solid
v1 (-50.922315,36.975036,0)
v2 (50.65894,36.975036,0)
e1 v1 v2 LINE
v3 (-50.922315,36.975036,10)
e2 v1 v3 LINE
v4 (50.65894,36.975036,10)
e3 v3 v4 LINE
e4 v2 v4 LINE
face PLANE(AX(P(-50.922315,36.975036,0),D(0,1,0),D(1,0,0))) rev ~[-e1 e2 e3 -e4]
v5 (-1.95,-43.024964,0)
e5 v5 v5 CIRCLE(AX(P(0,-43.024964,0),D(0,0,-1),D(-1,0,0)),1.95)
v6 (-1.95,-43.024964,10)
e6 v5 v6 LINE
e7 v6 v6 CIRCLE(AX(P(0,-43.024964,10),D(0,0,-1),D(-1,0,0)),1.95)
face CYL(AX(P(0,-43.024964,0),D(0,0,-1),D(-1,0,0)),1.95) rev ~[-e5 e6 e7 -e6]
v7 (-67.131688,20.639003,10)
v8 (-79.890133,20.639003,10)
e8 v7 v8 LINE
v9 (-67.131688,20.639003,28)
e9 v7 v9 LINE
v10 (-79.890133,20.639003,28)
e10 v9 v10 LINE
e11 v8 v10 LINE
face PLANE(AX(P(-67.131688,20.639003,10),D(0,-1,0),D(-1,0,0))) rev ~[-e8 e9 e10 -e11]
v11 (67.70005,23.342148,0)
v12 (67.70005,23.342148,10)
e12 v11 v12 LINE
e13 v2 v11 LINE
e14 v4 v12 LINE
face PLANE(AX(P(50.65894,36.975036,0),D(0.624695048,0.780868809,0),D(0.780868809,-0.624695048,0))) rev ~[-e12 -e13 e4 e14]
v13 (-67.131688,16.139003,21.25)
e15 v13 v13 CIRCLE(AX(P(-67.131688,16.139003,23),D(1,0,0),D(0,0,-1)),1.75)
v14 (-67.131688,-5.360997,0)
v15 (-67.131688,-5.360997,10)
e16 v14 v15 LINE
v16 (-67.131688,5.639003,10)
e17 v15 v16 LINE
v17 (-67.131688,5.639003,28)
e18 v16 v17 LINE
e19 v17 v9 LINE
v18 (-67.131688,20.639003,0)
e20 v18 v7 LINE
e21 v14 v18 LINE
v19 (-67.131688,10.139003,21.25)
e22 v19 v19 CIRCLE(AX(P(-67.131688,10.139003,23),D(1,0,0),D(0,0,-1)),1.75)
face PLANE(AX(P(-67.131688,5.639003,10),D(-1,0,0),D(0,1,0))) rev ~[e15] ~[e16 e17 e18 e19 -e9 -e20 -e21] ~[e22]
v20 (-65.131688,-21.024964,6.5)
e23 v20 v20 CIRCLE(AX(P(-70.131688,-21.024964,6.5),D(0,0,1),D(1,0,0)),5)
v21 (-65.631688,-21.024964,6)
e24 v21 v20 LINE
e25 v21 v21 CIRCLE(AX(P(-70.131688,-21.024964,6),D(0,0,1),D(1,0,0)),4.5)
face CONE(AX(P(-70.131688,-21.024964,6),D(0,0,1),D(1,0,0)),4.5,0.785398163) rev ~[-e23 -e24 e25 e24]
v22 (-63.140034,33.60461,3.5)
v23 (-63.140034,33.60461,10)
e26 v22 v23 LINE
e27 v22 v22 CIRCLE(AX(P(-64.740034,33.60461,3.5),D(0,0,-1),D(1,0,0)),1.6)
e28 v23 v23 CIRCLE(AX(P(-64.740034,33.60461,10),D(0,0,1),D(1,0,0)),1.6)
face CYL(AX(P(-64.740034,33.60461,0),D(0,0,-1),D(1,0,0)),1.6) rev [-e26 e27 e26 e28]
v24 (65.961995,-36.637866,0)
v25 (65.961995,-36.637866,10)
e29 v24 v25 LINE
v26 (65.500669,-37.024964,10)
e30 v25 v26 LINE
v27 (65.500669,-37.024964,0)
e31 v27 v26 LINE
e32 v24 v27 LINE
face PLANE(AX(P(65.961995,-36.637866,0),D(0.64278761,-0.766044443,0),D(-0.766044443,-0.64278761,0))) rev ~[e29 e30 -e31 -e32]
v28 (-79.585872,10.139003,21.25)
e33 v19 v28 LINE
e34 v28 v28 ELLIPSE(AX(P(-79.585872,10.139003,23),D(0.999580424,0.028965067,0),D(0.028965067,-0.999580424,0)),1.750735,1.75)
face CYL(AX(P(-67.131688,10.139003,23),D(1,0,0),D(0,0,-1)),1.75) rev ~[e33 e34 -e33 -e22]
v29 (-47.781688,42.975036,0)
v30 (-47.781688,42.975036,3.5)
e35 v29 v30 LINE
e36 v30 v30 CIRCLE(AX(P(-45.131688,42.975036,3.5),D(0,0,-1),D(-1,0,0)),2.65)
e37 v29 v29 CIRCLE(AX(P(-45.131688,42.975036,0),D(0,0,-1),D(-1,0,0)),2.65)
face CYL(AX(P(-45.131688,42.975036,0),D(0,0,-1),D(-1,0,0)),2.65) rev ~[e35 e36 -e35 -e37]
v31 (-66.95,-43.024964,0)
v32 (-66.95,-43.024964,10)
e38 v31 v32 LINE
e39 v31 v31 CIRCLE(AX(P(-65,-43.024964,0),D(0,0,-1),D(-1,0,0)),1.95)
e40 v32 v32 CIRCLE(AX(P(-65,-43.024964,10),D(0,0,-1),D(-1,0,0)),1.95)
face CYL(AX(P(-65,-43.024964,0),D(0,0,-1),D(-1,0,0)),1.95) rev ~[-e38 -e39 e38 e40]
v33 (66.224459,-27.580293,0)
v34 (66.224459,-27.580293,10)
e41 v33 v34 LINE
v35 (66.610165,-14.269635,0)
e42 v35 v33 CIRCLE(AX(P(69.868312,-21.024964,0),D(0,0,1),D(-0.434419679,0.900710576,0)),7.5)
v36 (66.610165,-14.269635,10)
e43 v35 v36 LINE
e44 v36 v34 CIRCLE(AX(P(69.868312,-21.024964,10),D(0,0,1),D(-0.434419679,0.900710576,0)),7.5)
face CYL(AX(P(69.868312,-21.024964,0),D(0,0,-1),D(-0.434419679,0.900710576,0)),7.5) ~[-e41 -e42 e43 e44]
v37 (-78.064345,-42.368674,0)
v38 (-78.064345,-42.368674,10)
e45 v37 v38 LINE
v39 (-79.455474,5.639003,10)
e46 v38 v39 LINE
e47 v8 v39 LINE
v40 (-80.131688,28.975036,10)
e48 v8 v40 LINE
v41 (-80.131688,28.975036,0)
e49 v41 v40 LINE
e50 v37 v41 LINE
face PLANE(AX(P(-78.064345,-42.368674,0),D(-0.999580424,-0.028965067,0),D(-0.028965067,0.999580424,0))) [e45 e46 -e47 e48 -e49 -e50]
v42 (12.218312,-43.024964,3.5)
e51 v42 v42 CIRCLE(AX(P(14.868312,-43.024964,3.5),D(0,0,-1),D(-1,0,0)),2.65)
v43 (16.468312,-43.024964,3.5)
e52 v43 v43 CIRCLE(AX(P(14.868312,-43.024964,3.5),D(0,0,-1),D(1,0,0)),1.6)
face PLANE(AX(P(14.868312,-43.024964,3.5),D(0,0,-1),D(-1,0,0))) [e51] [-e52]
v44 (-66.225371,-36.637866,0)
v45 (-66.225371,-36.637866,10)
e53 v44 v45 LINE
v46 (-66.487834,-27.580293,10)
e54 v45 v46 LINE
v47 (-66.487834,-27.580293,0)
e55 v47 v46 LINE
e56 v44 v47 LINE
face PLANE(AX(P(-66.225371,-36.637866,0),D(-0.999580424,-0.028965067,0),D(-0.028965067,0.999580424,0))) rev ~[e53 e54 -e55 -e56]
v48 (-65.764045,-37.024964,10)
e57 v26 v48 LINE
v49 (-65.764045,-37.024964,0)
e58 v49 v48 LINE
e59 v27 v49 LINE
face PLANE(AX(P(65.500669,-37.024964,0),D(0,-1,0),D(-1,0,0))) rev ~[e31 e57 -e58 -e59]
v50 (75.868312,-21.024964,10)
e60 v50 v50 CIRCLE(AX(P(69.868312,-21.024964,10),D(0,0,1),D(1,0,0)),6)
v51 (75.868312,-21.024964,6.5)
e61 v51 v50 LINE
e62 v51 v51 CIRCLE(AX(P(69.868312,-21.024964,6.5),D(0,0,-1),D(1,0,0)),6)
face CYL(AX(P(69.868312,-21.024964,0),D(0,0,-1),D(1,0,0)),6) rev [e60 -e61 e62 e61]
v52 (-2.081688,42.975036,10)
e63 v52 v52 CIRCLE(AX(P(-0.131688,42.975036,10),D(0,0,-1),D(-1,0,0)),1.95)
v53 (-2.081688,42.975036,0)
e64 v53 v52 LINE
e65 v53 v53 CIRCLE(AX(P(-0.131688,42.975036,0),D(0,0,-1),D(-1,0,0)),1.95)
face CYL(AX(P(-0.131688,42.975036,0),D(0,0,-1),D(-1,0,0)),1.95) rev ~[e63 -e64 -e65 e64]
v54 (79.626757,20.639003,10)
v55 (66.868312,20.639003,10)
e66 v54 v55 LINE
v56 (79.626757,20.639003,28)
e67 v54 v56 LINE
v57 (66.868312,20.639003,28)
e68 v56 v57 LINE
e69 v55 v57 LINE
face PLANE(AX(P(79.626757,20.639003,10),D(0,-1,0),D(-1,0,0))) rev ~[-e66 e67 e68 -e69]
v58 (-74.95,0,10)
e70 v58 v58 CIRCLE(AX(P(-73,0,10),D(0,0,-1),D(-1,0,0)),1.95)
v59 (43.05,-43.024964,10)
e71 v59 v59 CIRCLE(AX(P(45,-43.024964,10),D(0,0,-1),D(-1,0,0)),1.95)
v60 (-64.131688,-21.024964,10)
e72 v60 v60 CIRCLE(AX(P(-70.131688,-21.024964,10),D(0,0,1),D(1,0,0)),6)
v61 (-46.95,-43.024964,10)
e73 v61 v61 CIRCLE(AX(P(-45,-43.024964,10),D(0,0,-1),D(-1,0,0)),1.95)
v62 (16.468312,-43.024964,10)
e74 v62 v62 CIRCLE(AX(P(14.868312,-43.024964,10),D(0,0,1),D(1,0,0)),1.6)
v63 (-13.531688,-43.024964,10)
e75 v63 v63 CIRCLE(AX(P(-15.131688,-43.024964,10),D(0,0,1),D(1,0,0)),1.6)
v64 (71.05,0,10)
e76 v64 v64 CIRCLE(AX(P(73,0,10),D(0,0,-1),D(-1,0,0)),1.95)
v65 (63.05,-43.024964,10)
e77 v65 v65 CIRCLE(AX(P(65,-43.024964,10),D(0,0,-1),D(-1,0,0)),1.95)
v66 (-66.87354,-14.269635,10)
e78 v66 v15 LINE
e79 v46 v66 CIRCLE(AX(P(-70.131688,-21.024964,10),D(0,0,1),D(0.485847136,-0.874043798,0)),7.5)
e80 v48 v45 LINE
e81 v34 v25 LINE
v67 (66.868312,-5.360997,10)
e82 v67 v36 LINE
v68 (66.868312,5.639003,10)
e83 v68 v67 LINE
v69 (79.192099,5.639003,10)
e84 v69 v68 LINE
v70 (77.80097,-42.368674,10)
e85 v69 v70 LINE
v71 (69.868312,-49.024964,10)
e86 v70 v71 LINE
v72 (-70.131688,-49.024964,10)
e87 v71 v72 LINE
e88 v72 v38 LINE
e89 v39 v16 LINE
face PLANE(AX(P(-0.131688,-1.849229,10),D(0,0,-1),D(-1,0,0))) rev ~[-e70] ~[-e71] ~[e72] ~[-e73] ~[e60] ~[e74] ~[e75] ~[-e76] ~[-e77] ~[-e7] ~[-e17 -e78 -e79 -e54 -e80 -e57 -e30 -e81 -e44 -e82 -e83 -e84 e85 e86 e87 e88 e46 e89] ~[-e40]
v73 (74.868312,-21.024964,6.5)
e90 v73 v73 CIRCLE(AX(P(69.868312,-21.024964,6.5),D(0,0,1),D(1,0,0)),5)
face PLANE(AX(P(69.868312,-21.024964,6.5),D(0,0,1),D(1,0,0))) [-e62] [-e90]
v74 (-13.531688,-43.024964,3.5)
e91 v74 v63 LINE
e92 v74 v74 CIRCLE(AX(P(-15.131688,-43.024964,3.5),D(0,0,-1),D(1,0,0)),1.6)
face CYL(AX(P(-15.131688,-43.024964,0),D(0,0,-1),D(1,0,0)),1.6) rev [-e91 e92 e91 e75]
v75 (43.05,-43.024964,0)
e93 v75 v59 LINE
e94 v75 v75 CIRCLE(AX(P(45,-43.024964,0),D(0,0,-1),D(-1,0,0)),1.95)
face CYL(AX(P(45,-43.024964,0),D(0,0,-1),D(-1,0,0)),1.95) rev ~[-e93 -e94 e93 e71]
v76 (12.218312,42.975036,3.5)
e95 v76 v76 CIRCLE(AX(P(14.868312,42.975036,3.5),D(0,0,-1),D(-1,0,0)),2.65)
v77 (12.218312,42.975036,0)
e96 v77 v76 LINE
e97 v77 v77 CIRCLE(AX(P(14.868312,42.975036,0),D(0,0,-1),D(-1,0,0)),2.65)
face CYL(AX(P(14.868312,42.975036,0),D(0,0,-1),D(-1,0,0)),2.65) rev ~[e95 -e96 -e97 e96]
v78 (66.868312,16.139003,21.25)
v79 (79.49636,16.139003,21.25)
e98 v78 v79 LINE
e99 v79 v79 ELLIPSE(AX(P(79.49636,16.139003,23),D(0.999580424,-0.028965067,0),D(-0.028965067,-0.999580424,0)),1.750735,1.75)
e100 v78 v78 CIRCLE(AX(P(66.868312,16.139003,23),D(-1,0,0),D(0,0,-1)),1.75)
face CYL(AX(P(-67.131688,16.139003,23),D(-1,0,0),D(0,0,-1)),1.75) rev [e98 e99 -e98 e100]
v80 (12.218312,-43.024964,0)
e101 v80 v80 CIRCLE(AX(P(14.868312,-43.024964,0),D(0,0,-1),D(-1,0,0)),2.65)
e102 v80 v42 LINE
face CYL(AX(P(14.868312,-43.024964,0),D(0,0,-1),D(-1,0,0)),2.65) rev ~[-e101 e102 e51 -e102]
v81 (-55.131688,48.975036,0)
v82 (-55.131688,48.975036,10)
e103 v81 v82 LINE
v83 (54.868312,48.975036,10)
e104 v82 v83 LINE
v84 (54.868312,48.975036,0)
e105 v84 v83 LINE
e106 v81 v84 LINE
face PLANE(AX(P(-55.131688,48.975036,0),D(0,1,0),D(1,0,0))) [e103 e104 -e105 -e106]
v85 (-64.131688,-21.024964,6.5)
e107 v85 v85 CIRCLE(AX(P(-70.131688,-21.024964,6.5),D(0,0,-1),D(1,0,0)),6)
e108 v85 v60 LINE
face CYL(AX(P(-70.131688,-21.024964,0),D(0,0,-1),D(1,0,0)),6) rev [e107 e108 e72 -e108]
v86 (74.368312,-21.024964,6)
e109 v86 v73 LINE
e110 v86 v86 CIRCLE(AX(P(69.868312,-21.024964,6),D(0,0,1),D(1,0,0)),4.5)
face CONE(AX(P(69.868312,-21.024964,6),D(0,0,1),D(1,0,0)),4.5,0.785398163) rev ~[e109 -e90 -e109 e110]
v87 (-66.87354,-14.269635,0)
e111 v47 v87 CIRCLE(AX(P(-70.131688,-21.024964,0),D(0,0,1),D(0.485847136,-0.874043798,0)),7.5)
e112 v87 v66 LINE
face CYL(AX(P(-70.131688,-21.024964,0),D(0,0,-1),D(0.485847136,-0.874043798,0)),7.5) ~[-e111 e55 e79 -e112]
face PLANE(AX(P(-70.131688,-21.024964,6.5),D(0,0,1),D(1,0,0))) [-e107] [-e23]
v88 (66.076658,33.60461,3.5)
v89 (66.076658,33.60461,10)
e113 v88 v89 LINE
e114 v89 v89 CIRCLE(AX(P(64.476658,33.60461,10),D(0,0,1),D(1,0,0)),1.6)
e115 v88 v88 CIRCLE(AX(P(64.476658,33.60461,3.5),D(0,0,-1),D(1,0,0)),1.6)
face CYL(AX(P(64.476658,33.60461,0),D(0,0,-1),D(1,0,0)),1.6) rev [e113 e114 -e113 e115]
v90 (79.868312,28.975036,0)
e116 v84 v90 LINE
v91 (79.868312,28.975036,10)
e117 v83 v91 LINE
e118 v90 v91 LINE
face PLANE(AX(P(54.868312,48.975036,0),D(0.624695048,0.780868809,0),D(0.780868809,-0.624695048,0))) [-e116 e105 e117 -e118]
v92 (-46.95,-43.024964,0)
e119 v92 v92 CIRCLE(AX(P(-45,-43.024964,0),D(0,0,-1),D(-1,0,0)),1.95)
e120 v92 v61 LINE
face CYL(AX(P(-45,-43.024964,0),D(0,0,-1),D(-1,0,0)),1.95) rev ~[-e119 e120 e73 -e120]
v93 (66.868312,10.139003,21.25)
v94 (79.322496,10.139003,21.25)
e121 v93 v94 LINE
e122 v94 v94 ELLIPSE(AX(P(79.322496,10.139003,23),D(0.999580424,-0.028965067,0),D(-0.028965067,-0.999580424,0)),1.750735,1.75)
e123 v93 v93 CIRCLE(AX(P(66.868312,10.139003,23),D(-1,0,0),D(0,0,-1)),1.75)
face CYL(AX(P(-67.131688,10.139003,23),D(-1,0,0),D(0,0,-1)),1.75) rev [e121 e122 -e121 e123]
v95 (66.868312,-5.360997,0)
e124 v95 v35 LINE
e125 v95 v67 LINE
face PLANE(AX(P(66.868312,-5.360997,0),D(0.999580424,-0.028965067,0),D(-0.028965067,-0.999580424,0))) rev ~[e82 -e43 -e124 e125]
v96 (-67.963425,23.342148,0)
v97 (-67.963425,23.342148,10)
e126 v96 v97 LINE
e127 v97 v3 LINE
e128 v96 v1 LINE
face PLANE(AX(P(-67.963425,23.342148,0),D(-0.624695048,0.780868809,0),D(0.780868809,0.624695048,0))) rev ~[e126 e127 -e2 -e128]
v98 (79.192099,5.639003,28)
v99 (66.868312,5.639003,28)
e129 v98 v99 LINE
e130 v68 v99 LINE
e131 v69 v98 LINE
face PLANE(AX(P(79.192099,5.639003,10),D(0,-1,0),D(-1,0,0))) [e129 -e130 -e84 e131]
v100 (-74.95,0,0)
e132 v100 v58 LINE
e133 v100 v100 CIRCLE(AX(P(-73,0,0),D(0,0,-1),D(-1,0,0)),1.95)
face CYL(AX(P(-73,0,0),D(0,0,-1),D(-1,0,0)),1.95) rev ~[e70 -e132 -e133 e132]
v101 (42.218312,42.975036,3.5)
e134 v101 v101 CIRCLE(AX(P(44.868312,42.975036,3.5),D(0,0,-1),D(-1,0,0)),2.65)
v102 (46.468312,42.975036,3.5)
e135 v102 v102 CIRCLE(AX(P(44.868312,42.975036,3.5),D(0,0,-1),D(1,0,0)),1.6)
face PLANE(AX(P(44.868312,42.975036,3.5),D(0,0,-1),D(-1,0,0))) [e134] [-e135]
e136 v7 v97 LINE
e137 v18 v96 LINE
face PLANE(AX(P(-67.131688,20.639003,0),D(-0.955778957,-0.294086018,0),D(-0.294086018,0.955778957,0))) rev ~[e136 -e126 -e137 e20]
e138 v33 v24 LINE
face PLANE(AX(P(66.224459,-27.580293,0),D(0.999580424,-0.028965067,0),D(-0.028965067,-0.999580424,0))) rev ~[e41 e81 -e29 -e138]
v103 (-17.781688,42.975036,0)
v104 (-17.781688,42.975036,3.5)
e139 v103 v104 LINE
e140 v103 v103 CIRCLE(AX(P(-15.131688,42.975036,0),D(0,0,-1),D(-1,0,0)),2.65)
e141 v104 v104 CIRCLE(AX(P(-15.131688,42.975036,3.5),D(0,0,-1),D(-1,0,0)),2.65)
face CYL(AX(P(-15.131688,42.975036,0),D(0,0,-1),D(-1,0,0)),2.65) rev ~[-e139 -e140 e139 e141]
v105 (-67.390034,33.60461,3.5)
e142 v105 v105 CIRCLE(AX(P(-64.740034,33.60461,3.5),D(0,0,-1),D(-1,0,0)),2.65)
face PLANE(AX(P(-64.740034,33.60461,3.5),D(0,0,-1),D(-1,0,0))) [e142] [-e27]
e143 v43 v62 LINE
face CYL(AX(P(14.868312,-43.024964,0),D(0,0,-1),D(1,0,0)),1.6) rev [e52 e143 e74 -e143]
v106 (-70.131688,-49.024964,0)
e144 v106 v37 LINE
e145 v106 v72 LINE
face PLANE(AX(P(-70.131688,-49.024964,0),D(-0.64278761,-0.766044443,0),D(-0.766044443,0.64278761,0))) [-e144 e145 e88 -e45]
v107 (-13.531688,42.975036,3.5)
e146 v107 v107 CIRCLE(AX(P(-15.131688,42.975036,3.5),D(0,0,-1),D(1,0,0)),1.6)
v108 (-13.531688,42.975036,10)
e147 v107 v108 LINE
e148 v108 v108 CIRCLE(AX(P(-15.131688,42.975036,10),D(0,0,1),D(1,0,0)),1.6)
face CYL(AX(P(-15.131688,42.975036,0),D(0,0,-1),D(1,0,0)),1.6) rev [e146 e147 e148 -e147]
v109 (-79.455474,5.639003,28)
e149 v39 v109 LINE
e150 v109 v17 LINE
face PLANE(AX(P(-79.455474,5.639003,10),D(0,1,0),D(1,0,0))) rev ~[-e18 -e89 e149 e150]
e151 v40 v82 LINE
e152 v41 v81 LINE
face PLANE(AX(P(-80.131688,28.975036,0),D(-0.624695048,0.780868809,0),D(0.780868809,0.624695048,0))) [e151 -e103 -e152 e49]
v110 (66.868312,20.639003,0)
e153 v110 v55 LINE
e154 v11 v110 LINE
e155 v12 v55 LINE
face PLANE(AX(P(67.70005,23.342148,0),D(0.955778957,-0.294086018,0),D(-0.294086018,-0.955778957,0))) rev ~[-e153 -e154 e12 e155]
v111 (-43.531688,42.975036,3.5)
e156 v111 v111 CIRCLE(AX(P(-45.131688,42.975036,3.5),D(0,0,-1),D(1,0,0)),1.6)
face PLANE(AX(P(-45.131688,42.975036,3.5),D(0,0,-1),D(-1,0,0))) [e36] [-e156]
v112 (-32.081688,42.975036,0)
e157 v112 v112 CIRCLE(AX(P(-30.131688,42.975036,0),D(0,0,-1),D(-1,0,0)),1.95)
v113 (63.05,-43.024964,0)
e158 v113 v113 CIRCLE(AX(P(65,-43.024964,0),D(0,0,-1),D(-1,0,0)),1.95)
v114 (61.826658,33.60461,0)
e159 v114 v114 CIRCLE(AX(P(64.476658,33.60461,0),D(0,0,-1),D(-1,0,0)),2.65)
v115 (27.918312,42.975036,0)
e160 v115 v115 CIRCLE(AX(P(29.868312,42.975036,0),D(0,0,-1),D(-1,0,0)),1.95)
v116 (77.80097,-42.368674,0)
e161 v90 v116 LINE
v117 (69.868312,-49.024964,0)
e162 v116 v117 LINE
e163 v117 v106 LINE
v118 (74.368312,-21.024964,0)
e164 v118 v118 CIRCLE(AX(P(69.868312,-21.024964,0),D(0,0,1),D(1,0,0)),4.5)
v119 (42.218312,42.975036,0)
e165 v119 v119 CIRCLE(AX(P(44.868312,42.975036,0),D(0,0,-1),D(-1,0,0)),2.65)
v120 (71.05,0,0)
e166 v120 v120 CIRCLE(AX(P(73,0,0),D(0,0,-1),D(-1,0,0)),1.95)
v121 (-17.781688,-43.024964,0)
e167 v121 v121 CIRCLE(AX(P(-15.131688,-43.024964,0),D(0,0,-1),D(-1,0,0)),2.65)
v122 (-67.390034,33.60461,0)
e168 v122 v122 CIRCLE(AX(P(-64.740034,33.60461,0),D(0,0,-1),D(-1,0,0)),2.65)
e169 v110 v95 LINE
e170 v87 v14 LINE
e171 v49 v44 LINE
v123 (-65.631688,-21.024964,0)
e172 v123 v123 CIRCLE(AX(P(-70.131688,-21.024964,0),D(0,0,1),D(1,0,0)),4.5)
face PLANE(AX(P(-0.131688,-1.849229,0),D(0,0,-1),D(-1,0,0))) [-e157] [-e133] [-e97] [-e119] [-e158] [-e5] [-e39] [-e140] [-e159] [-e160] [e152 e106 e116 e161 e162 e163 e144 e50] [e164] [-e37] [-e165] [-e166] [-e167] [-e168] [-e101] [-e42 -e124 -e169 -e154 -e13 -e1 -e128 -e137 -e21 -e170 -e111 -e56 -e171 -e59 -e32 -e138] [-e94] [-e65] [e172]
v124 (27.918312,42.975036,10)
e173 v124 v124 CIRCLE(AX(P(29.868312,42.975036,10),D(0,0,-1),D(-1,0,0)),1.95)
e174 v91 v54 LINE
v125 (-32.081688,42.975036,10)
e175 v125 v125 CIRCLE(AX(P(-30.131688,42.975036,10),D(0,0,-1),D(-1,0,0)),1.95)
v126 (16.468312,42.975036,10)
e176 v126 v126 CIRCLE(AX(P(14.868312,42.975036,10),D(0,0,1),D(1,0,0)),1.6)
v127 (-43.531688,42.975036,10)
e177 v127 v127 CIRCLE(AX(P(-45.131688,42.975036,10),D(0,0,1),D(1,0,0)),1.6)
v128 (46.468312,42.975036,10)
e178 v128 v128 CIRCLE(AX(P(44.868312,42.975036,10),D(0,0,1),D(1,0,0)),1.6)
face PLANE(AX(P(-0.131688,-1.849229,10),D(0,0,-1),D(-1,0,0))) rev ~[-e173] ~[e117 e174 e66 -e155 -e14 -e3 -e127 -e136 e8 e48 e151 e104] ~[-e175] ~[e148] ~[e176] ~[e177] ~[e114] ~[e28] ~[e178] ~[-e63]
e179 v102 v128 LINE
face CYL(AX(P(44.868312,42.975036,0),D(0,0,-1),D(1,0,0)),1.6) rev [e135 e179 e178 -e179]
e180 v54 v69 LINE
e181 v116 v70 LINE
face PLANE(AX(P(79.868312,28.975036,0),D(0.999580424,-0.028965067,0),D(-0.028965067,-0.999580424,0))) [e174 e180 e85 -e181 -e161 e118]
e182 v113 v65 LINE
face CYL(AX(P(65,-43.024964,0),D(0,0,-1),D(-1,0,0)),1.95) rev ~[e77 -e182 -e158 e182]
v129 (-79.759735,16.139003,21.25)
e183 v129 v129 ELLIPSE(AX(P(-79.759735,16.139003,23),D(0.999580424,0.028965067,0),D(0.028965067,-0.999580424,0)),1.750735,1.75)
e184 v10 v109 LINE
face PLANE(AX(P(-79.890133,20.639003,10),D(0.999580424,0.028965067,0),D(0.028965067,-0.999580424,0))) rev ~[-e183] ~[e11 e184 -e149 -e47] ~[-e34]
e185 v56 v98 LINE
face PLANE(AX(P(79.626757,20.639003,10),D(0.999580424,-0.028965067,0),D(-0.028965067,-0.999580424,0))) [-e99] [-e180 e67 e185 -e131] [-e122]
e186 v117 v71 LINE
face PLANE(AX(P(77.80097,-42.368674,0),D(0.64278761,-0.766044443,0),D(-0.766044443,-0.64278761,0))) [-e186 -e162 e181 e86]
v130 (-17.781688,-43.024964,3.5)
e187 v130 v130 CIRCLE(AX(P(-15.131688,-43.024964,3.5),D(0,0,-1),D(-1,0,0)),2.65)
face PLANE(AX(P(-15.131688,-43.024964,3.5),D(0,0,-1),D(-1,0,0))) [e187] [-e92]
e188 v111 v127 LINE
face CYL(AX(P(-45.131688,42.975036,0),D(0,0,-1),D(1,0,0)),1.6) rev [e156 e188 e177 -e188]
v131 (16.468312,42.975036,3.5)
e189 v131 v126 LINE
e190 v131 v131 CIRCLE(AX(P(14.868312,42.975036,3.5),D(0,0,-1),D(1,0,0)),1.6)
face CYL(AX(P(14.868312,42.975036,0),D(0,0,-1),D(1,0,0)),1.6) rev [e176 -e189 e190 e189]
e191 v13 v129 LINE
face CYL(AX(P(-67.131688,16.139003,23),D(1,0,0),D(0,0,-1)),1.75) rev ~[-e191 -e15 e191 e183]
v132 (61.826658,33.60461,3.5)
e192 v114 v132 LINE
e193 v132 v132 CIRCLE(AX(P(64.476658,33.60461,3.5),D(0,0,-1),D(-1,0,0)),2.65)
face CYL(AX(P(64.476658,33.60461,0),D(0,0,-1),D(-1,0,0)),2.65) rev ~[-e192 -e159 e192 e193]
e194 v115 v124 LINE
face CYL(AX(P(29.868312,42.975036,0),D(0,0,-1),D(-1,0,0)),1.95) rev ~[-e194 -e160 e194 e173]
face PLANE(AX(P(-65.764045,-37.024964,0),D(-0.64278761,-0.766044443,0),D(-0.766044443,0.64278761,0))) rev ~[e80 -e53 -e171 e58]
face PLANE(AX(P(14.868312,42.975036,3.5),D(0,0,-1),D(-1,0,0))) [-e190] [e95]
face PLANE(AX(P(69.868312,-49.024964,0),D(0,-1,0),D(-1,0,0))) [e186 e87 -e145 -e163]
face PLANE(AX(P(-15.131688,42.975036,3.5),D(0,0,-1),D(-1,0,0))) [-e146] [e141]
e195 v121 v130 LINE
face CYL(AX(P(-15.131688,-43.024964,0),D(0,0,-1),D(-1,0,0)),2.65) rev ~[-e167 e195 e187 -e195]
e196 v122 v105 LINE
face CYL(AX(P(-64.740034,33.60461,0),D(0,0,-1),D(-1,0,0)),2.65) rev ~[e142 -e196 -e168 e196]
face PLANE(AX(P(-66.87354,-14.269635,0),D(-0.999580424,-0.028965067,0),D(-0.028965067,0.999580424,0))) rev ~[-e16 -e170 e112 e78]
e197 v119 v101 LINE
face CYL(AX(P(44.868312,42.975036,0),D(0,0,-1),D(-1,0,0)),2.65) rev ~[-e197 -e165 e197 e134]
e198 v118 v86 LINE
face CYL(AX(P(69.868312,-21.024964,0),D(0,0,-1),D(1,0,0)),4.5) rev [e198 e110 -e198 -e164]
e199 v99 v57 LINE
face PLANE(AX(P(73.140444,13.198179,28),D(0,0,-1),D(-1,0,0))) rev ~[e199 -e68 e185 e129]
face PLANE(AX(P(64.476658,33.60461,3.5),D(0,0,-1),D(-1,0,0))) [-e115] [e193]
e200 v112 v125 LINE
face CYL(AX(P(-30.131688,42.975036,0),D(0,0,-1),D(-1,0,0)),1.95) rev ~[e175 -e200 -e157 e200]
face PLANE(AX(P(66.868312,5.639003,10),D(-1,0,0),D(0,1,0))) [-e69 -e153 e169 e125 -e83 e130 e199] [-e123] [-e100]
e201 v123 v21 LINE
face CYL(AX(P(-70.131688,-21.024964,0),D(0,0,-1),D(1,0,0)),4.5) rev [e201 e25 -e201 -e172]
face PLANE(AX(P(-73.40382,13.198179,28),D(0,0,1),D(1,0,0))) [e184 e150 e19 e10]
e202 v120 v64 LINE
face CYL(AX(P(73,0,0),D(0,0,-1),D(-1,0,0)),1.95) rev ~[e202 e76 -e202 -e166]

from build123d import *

# Parameters (mm, degrees)
SKETCH1_R               = 6
SKETCH1_R_2             = 1.6
BOSS_EXTRUDE1_DEPTH     = 10
BOSS_EXTRUDE2_DEPTH     = 18
SKETCH7_R               = 1.75
CUT_EXTRUDE4_DEPTH      = 148
CUT_EXTRUDE4_DEPTH_BACK = 14
SKETCH8_R               = 2.65
CUT_EXTRUDE5_DEPTH      = 3.5
BOSS_EXTRUDE3_START     = -10
SKETCH10_R              = 6.870136932
SKETCH10_R_2            = 4.5
SKETCH10_R_3            = 6.9172188
BOSS_EXTRUDE3_DEPTH     = 6.5
SKETCH11_R              = 1.95
CUT_EXTRUDE6_DEPTH      = 29
CHAMFER1_SIZE           = 0.5


with BuildPart() as part:
    # Sketch1 → Boss-Extrude1 (new body)
    with BuildSketch(Plane.XY):
        Polygon((-55.131687722, 48.97503592), (54.868312278, 48.97503592), (79.868312278, 28.97503592), (77.800969503, -42.368674328), (69.868312278, -49.02496408), (-70.131687722, -49.02496408), (-78.064344947, -42.368674328), (-80.131687722, 28.97503592), align=None)
        with Locations((-70.131687722, -21.02496408)):
            Circle(SKETCH1_R, mode=Mode.SUBTRACT)
        with Locations((69.868312278, -21.02496408)):
            Circle(SKETCH1_R, mode=Mode.SUBTRACT)
        with Locations((-45.131687722, 42.97503592)):
            Circle(SKETCH1_R_2, mode=Mode.SUBTRACT)
        with Locations((-15.131687722, 42.97503592)):
            Circle(SKETCH1_R_2, mode=Mode.SUBTRACT)
        with Locations((14.868312278, 42.97503592)):
            Circle(SKETCH1_R_2, mode=Mode.SUBTRACT)
        with Locations((44.868312278, 42.97503592)):
            Circle(SKETCH1_R_2, mode=Mode.SUBTRACT)
        with Locations((-64.740033508, 33.604610207)):
            Circle(SKETCH1_R_2, mode=Mode.SUBTRACT)
        with Locations((64.476658063, 33.604610207)):
            Circle(SKETCH1_R_2, mode=Mode.SUBTRACT)
        with Locations((-15.131687722, -43.02496408)):
            Circle(SKETCH1_R_2, mode=Mode.SUBTRACT)
        with Locations((14.868312278, -43.02496408)):
            Circle(SKETCH1_R_2, mode=Mode.SUBTRACT)
        with BuildLine():
            Line((-67.963425231, 23.342147743), (-50.92231501, 36.97503592))
            Line((-50.92231501, 36.97503592), (50.658939565, 36.97503592))
            Line((50.658939565, 36.97503592), (67.700049787, 23.342147743))
            Line((67.700049787, 23.342147743), (66.868312278, 20.639002542))
            Line((66.868312278, 20.639002542), (66.868312278, -5.360997458))
            Line((66.868312278, -5.360997458), (66.610164686, -14.269634756))
            ThreePointArc((66.610164686, -14.269634756), (62.371459095, -20.807726075), (66.224458755, -27.580292561))
            Line((66.224458755, -27.580292561), (65.961995417, -36.637865644))
            Line((65.961995417, -36.637865644), (65.500669466, -37.02496408))
            Line((65.500669466, -37.02496408), (-65.764044911, -37.02496408))
            Line((-65.764044911, -37.02496408), (-66.225370862, -36.637865644))
            Line((-66.225370862, -36.637865644), (-66.487834199, -27.580292561))
            ThreePointArc((-66.487834199, -27.580292561), (-62.634834539, -20.807726075), (-66.873540131, -14.269634756))
            Line((-66.873540131, -14.269634756), (-67.131687722, -5.360997458))
            Line((-67.131687722, -5.360997458), (-67.131687722, 20.639002542))
            Line((-67.131687722, 20.639002542), (-67.963425231, 23.342147743))
        make_face(mode=Mode.SUBTRACT)
    extrude(amount=BOSS_EXTRUDE1_DEPTH)

    # Sketch5 → Boss-Extrude2 (add)
    with BuildSketch(Plane.XY.offset(10)):
        Polygon((66.868312278, 20.639002542), (79.192098778, 20.639002542), (79.626757159, 20.639002542), (79.192098778, 5.639002542), (66.868312278, 5.639002542), align=None)
        Polygon((-79.890132604, 20.639002542), (-79.455474222, 5.639002542), (-67.131687722, 5.639002542), (-67.131687722, 20.639002542), (-79.455474222, 20.639002542), align=None)
    extrude(amount=BOSS_EXTRUDE2_DEPTH)

    # Sketch7 → Cut-Extrude4 (cut, two sides)
    with BuildSketch(Plane(origin=(-67.131687722, 0, 0), x_dir=(0, 0, -1), z_dir=(1, 0, 0))) as cut_extrude4_sk:
        with Locations((-23, 16.139002542)):
            Circle(SKETCH7_R)
        with Locations((-23, 10.139002542)):
            Circle(SKETCH7_R)
    extrude(amount=CUT_EXTRUDE4_DEPTH, mode=Mode.SUBTRACT)
    extrude(cut_extrude4_sk.sketch, amount=-CUT_EXTRUDE4_DEPTH_BACK, mode=Mode.SUBTRACT)

    # Sketch8 → Cut-Extrude5 (cut)
    with BuildSketch(Plane(origin=(0, 0, 0), x_dir=(-1, 0, 0), z_dir=(0, 0, -1))):
        with Locations((-14.868312278, 42.97503592)):
            Circle(SKETCH8_R)
        with Locations((15.131687722, 42.97503592)):
            Circle(SKETCH8_R)
        with Locations((45.131687722, 42.97503592)):
            Circle(SKETCH8_R)
        with Locations((64.740033508, 33.604610207)):
            Circle(SKETCH8_R)
        with Locations((-64.476658063, 33.604610207)):
            Circle(SKETCH8_R)
        with Locations((-44.868312278, 42.97503592)):
            Circle(SKETCH8_R)
        with Locations((-14.868312278, -43.02496408)):
            Circle(SKETCH8_R)
        with Locations((15.131687722, -43.02496408)):
            Circle(SKETCH8_R)
    extrude(amount=-CUT_EXTRUDE5_DEPTH, mode=Mode.SUBTRACT)

    # Sketch10 → Boss-Extrude3 (add)
    with BuildSketch(Plane.XY.offset(10).offset(BOSS_EXTRUDE3_START)):
        with Locations((-70.131687722, -21.02496408)):
            Circle(SKETCH10_R)
        with Locations((-70.131687722, -21.02496408)):
            Circle(SKETCH10_R_2, mode=Mode.SUBTRACT)
        with Locations((69.868312278, -21.02496408)):
            Circle(SKETCH10_R_3)
        with Locations((69.868312278, -21.02496408)):
            Circle(SKETCH10_R_2, mode=Mode.SUBTRACT)
    extrude(amount=BOSS_EXTRUDE3_DEPTH)

    # Sketch11 → Cut-Extrude6 (cut, through all)
    with BuildSketch(Plane(origin=(0, 0, 0), x_dir=(-1, 0, 0), z_dir=(0, 0, -1))):
        with Locations((-29.868312278, 42.97503592)):
            Circle(SKETCH11_R)
        with Locations((0.131687722, 42.97503592)):
            Circle(SKETCH11_R)
        with Locations((30.131687722, 42.97503592)):
            Circle(SKETCH11_R)
        with Locations((0, -43.02496408)):
            Circle(SKETCH11_R)
        with Locations((-45, -43.02496408)):
            Circle(SKETCH11_R)
        with Locations((45, -43.02496408)):
            Circle(SKETCH11_R)
        with Locations((-65, -43.02496408)):
            Circle(SKETCH11_R)
        with Locations((65, -43.02496408)):
            Circle(SKETCH11_R)
        with Locations((-73, 0)):
            Circle(SKETCH11_R)
        with Locations((73, 0)):
            Circle(SKETCH11_R)
    extrude(amount=-CUT_EXTRUDE6_DEPTH, mode=Mode.SUBTRACT)

    # Chamfer1
    chamfer1_edges = [part.edges().sort_by_distance(p)[0] for p in [
        (65.368312278, -21.02496408, 6.5),
        (-74.631687722, -21.02496408, 6.5),
    ]]
    chamfer(chamfer1_edges, length=CHAMFER1_SIZE)


solid = part.part
